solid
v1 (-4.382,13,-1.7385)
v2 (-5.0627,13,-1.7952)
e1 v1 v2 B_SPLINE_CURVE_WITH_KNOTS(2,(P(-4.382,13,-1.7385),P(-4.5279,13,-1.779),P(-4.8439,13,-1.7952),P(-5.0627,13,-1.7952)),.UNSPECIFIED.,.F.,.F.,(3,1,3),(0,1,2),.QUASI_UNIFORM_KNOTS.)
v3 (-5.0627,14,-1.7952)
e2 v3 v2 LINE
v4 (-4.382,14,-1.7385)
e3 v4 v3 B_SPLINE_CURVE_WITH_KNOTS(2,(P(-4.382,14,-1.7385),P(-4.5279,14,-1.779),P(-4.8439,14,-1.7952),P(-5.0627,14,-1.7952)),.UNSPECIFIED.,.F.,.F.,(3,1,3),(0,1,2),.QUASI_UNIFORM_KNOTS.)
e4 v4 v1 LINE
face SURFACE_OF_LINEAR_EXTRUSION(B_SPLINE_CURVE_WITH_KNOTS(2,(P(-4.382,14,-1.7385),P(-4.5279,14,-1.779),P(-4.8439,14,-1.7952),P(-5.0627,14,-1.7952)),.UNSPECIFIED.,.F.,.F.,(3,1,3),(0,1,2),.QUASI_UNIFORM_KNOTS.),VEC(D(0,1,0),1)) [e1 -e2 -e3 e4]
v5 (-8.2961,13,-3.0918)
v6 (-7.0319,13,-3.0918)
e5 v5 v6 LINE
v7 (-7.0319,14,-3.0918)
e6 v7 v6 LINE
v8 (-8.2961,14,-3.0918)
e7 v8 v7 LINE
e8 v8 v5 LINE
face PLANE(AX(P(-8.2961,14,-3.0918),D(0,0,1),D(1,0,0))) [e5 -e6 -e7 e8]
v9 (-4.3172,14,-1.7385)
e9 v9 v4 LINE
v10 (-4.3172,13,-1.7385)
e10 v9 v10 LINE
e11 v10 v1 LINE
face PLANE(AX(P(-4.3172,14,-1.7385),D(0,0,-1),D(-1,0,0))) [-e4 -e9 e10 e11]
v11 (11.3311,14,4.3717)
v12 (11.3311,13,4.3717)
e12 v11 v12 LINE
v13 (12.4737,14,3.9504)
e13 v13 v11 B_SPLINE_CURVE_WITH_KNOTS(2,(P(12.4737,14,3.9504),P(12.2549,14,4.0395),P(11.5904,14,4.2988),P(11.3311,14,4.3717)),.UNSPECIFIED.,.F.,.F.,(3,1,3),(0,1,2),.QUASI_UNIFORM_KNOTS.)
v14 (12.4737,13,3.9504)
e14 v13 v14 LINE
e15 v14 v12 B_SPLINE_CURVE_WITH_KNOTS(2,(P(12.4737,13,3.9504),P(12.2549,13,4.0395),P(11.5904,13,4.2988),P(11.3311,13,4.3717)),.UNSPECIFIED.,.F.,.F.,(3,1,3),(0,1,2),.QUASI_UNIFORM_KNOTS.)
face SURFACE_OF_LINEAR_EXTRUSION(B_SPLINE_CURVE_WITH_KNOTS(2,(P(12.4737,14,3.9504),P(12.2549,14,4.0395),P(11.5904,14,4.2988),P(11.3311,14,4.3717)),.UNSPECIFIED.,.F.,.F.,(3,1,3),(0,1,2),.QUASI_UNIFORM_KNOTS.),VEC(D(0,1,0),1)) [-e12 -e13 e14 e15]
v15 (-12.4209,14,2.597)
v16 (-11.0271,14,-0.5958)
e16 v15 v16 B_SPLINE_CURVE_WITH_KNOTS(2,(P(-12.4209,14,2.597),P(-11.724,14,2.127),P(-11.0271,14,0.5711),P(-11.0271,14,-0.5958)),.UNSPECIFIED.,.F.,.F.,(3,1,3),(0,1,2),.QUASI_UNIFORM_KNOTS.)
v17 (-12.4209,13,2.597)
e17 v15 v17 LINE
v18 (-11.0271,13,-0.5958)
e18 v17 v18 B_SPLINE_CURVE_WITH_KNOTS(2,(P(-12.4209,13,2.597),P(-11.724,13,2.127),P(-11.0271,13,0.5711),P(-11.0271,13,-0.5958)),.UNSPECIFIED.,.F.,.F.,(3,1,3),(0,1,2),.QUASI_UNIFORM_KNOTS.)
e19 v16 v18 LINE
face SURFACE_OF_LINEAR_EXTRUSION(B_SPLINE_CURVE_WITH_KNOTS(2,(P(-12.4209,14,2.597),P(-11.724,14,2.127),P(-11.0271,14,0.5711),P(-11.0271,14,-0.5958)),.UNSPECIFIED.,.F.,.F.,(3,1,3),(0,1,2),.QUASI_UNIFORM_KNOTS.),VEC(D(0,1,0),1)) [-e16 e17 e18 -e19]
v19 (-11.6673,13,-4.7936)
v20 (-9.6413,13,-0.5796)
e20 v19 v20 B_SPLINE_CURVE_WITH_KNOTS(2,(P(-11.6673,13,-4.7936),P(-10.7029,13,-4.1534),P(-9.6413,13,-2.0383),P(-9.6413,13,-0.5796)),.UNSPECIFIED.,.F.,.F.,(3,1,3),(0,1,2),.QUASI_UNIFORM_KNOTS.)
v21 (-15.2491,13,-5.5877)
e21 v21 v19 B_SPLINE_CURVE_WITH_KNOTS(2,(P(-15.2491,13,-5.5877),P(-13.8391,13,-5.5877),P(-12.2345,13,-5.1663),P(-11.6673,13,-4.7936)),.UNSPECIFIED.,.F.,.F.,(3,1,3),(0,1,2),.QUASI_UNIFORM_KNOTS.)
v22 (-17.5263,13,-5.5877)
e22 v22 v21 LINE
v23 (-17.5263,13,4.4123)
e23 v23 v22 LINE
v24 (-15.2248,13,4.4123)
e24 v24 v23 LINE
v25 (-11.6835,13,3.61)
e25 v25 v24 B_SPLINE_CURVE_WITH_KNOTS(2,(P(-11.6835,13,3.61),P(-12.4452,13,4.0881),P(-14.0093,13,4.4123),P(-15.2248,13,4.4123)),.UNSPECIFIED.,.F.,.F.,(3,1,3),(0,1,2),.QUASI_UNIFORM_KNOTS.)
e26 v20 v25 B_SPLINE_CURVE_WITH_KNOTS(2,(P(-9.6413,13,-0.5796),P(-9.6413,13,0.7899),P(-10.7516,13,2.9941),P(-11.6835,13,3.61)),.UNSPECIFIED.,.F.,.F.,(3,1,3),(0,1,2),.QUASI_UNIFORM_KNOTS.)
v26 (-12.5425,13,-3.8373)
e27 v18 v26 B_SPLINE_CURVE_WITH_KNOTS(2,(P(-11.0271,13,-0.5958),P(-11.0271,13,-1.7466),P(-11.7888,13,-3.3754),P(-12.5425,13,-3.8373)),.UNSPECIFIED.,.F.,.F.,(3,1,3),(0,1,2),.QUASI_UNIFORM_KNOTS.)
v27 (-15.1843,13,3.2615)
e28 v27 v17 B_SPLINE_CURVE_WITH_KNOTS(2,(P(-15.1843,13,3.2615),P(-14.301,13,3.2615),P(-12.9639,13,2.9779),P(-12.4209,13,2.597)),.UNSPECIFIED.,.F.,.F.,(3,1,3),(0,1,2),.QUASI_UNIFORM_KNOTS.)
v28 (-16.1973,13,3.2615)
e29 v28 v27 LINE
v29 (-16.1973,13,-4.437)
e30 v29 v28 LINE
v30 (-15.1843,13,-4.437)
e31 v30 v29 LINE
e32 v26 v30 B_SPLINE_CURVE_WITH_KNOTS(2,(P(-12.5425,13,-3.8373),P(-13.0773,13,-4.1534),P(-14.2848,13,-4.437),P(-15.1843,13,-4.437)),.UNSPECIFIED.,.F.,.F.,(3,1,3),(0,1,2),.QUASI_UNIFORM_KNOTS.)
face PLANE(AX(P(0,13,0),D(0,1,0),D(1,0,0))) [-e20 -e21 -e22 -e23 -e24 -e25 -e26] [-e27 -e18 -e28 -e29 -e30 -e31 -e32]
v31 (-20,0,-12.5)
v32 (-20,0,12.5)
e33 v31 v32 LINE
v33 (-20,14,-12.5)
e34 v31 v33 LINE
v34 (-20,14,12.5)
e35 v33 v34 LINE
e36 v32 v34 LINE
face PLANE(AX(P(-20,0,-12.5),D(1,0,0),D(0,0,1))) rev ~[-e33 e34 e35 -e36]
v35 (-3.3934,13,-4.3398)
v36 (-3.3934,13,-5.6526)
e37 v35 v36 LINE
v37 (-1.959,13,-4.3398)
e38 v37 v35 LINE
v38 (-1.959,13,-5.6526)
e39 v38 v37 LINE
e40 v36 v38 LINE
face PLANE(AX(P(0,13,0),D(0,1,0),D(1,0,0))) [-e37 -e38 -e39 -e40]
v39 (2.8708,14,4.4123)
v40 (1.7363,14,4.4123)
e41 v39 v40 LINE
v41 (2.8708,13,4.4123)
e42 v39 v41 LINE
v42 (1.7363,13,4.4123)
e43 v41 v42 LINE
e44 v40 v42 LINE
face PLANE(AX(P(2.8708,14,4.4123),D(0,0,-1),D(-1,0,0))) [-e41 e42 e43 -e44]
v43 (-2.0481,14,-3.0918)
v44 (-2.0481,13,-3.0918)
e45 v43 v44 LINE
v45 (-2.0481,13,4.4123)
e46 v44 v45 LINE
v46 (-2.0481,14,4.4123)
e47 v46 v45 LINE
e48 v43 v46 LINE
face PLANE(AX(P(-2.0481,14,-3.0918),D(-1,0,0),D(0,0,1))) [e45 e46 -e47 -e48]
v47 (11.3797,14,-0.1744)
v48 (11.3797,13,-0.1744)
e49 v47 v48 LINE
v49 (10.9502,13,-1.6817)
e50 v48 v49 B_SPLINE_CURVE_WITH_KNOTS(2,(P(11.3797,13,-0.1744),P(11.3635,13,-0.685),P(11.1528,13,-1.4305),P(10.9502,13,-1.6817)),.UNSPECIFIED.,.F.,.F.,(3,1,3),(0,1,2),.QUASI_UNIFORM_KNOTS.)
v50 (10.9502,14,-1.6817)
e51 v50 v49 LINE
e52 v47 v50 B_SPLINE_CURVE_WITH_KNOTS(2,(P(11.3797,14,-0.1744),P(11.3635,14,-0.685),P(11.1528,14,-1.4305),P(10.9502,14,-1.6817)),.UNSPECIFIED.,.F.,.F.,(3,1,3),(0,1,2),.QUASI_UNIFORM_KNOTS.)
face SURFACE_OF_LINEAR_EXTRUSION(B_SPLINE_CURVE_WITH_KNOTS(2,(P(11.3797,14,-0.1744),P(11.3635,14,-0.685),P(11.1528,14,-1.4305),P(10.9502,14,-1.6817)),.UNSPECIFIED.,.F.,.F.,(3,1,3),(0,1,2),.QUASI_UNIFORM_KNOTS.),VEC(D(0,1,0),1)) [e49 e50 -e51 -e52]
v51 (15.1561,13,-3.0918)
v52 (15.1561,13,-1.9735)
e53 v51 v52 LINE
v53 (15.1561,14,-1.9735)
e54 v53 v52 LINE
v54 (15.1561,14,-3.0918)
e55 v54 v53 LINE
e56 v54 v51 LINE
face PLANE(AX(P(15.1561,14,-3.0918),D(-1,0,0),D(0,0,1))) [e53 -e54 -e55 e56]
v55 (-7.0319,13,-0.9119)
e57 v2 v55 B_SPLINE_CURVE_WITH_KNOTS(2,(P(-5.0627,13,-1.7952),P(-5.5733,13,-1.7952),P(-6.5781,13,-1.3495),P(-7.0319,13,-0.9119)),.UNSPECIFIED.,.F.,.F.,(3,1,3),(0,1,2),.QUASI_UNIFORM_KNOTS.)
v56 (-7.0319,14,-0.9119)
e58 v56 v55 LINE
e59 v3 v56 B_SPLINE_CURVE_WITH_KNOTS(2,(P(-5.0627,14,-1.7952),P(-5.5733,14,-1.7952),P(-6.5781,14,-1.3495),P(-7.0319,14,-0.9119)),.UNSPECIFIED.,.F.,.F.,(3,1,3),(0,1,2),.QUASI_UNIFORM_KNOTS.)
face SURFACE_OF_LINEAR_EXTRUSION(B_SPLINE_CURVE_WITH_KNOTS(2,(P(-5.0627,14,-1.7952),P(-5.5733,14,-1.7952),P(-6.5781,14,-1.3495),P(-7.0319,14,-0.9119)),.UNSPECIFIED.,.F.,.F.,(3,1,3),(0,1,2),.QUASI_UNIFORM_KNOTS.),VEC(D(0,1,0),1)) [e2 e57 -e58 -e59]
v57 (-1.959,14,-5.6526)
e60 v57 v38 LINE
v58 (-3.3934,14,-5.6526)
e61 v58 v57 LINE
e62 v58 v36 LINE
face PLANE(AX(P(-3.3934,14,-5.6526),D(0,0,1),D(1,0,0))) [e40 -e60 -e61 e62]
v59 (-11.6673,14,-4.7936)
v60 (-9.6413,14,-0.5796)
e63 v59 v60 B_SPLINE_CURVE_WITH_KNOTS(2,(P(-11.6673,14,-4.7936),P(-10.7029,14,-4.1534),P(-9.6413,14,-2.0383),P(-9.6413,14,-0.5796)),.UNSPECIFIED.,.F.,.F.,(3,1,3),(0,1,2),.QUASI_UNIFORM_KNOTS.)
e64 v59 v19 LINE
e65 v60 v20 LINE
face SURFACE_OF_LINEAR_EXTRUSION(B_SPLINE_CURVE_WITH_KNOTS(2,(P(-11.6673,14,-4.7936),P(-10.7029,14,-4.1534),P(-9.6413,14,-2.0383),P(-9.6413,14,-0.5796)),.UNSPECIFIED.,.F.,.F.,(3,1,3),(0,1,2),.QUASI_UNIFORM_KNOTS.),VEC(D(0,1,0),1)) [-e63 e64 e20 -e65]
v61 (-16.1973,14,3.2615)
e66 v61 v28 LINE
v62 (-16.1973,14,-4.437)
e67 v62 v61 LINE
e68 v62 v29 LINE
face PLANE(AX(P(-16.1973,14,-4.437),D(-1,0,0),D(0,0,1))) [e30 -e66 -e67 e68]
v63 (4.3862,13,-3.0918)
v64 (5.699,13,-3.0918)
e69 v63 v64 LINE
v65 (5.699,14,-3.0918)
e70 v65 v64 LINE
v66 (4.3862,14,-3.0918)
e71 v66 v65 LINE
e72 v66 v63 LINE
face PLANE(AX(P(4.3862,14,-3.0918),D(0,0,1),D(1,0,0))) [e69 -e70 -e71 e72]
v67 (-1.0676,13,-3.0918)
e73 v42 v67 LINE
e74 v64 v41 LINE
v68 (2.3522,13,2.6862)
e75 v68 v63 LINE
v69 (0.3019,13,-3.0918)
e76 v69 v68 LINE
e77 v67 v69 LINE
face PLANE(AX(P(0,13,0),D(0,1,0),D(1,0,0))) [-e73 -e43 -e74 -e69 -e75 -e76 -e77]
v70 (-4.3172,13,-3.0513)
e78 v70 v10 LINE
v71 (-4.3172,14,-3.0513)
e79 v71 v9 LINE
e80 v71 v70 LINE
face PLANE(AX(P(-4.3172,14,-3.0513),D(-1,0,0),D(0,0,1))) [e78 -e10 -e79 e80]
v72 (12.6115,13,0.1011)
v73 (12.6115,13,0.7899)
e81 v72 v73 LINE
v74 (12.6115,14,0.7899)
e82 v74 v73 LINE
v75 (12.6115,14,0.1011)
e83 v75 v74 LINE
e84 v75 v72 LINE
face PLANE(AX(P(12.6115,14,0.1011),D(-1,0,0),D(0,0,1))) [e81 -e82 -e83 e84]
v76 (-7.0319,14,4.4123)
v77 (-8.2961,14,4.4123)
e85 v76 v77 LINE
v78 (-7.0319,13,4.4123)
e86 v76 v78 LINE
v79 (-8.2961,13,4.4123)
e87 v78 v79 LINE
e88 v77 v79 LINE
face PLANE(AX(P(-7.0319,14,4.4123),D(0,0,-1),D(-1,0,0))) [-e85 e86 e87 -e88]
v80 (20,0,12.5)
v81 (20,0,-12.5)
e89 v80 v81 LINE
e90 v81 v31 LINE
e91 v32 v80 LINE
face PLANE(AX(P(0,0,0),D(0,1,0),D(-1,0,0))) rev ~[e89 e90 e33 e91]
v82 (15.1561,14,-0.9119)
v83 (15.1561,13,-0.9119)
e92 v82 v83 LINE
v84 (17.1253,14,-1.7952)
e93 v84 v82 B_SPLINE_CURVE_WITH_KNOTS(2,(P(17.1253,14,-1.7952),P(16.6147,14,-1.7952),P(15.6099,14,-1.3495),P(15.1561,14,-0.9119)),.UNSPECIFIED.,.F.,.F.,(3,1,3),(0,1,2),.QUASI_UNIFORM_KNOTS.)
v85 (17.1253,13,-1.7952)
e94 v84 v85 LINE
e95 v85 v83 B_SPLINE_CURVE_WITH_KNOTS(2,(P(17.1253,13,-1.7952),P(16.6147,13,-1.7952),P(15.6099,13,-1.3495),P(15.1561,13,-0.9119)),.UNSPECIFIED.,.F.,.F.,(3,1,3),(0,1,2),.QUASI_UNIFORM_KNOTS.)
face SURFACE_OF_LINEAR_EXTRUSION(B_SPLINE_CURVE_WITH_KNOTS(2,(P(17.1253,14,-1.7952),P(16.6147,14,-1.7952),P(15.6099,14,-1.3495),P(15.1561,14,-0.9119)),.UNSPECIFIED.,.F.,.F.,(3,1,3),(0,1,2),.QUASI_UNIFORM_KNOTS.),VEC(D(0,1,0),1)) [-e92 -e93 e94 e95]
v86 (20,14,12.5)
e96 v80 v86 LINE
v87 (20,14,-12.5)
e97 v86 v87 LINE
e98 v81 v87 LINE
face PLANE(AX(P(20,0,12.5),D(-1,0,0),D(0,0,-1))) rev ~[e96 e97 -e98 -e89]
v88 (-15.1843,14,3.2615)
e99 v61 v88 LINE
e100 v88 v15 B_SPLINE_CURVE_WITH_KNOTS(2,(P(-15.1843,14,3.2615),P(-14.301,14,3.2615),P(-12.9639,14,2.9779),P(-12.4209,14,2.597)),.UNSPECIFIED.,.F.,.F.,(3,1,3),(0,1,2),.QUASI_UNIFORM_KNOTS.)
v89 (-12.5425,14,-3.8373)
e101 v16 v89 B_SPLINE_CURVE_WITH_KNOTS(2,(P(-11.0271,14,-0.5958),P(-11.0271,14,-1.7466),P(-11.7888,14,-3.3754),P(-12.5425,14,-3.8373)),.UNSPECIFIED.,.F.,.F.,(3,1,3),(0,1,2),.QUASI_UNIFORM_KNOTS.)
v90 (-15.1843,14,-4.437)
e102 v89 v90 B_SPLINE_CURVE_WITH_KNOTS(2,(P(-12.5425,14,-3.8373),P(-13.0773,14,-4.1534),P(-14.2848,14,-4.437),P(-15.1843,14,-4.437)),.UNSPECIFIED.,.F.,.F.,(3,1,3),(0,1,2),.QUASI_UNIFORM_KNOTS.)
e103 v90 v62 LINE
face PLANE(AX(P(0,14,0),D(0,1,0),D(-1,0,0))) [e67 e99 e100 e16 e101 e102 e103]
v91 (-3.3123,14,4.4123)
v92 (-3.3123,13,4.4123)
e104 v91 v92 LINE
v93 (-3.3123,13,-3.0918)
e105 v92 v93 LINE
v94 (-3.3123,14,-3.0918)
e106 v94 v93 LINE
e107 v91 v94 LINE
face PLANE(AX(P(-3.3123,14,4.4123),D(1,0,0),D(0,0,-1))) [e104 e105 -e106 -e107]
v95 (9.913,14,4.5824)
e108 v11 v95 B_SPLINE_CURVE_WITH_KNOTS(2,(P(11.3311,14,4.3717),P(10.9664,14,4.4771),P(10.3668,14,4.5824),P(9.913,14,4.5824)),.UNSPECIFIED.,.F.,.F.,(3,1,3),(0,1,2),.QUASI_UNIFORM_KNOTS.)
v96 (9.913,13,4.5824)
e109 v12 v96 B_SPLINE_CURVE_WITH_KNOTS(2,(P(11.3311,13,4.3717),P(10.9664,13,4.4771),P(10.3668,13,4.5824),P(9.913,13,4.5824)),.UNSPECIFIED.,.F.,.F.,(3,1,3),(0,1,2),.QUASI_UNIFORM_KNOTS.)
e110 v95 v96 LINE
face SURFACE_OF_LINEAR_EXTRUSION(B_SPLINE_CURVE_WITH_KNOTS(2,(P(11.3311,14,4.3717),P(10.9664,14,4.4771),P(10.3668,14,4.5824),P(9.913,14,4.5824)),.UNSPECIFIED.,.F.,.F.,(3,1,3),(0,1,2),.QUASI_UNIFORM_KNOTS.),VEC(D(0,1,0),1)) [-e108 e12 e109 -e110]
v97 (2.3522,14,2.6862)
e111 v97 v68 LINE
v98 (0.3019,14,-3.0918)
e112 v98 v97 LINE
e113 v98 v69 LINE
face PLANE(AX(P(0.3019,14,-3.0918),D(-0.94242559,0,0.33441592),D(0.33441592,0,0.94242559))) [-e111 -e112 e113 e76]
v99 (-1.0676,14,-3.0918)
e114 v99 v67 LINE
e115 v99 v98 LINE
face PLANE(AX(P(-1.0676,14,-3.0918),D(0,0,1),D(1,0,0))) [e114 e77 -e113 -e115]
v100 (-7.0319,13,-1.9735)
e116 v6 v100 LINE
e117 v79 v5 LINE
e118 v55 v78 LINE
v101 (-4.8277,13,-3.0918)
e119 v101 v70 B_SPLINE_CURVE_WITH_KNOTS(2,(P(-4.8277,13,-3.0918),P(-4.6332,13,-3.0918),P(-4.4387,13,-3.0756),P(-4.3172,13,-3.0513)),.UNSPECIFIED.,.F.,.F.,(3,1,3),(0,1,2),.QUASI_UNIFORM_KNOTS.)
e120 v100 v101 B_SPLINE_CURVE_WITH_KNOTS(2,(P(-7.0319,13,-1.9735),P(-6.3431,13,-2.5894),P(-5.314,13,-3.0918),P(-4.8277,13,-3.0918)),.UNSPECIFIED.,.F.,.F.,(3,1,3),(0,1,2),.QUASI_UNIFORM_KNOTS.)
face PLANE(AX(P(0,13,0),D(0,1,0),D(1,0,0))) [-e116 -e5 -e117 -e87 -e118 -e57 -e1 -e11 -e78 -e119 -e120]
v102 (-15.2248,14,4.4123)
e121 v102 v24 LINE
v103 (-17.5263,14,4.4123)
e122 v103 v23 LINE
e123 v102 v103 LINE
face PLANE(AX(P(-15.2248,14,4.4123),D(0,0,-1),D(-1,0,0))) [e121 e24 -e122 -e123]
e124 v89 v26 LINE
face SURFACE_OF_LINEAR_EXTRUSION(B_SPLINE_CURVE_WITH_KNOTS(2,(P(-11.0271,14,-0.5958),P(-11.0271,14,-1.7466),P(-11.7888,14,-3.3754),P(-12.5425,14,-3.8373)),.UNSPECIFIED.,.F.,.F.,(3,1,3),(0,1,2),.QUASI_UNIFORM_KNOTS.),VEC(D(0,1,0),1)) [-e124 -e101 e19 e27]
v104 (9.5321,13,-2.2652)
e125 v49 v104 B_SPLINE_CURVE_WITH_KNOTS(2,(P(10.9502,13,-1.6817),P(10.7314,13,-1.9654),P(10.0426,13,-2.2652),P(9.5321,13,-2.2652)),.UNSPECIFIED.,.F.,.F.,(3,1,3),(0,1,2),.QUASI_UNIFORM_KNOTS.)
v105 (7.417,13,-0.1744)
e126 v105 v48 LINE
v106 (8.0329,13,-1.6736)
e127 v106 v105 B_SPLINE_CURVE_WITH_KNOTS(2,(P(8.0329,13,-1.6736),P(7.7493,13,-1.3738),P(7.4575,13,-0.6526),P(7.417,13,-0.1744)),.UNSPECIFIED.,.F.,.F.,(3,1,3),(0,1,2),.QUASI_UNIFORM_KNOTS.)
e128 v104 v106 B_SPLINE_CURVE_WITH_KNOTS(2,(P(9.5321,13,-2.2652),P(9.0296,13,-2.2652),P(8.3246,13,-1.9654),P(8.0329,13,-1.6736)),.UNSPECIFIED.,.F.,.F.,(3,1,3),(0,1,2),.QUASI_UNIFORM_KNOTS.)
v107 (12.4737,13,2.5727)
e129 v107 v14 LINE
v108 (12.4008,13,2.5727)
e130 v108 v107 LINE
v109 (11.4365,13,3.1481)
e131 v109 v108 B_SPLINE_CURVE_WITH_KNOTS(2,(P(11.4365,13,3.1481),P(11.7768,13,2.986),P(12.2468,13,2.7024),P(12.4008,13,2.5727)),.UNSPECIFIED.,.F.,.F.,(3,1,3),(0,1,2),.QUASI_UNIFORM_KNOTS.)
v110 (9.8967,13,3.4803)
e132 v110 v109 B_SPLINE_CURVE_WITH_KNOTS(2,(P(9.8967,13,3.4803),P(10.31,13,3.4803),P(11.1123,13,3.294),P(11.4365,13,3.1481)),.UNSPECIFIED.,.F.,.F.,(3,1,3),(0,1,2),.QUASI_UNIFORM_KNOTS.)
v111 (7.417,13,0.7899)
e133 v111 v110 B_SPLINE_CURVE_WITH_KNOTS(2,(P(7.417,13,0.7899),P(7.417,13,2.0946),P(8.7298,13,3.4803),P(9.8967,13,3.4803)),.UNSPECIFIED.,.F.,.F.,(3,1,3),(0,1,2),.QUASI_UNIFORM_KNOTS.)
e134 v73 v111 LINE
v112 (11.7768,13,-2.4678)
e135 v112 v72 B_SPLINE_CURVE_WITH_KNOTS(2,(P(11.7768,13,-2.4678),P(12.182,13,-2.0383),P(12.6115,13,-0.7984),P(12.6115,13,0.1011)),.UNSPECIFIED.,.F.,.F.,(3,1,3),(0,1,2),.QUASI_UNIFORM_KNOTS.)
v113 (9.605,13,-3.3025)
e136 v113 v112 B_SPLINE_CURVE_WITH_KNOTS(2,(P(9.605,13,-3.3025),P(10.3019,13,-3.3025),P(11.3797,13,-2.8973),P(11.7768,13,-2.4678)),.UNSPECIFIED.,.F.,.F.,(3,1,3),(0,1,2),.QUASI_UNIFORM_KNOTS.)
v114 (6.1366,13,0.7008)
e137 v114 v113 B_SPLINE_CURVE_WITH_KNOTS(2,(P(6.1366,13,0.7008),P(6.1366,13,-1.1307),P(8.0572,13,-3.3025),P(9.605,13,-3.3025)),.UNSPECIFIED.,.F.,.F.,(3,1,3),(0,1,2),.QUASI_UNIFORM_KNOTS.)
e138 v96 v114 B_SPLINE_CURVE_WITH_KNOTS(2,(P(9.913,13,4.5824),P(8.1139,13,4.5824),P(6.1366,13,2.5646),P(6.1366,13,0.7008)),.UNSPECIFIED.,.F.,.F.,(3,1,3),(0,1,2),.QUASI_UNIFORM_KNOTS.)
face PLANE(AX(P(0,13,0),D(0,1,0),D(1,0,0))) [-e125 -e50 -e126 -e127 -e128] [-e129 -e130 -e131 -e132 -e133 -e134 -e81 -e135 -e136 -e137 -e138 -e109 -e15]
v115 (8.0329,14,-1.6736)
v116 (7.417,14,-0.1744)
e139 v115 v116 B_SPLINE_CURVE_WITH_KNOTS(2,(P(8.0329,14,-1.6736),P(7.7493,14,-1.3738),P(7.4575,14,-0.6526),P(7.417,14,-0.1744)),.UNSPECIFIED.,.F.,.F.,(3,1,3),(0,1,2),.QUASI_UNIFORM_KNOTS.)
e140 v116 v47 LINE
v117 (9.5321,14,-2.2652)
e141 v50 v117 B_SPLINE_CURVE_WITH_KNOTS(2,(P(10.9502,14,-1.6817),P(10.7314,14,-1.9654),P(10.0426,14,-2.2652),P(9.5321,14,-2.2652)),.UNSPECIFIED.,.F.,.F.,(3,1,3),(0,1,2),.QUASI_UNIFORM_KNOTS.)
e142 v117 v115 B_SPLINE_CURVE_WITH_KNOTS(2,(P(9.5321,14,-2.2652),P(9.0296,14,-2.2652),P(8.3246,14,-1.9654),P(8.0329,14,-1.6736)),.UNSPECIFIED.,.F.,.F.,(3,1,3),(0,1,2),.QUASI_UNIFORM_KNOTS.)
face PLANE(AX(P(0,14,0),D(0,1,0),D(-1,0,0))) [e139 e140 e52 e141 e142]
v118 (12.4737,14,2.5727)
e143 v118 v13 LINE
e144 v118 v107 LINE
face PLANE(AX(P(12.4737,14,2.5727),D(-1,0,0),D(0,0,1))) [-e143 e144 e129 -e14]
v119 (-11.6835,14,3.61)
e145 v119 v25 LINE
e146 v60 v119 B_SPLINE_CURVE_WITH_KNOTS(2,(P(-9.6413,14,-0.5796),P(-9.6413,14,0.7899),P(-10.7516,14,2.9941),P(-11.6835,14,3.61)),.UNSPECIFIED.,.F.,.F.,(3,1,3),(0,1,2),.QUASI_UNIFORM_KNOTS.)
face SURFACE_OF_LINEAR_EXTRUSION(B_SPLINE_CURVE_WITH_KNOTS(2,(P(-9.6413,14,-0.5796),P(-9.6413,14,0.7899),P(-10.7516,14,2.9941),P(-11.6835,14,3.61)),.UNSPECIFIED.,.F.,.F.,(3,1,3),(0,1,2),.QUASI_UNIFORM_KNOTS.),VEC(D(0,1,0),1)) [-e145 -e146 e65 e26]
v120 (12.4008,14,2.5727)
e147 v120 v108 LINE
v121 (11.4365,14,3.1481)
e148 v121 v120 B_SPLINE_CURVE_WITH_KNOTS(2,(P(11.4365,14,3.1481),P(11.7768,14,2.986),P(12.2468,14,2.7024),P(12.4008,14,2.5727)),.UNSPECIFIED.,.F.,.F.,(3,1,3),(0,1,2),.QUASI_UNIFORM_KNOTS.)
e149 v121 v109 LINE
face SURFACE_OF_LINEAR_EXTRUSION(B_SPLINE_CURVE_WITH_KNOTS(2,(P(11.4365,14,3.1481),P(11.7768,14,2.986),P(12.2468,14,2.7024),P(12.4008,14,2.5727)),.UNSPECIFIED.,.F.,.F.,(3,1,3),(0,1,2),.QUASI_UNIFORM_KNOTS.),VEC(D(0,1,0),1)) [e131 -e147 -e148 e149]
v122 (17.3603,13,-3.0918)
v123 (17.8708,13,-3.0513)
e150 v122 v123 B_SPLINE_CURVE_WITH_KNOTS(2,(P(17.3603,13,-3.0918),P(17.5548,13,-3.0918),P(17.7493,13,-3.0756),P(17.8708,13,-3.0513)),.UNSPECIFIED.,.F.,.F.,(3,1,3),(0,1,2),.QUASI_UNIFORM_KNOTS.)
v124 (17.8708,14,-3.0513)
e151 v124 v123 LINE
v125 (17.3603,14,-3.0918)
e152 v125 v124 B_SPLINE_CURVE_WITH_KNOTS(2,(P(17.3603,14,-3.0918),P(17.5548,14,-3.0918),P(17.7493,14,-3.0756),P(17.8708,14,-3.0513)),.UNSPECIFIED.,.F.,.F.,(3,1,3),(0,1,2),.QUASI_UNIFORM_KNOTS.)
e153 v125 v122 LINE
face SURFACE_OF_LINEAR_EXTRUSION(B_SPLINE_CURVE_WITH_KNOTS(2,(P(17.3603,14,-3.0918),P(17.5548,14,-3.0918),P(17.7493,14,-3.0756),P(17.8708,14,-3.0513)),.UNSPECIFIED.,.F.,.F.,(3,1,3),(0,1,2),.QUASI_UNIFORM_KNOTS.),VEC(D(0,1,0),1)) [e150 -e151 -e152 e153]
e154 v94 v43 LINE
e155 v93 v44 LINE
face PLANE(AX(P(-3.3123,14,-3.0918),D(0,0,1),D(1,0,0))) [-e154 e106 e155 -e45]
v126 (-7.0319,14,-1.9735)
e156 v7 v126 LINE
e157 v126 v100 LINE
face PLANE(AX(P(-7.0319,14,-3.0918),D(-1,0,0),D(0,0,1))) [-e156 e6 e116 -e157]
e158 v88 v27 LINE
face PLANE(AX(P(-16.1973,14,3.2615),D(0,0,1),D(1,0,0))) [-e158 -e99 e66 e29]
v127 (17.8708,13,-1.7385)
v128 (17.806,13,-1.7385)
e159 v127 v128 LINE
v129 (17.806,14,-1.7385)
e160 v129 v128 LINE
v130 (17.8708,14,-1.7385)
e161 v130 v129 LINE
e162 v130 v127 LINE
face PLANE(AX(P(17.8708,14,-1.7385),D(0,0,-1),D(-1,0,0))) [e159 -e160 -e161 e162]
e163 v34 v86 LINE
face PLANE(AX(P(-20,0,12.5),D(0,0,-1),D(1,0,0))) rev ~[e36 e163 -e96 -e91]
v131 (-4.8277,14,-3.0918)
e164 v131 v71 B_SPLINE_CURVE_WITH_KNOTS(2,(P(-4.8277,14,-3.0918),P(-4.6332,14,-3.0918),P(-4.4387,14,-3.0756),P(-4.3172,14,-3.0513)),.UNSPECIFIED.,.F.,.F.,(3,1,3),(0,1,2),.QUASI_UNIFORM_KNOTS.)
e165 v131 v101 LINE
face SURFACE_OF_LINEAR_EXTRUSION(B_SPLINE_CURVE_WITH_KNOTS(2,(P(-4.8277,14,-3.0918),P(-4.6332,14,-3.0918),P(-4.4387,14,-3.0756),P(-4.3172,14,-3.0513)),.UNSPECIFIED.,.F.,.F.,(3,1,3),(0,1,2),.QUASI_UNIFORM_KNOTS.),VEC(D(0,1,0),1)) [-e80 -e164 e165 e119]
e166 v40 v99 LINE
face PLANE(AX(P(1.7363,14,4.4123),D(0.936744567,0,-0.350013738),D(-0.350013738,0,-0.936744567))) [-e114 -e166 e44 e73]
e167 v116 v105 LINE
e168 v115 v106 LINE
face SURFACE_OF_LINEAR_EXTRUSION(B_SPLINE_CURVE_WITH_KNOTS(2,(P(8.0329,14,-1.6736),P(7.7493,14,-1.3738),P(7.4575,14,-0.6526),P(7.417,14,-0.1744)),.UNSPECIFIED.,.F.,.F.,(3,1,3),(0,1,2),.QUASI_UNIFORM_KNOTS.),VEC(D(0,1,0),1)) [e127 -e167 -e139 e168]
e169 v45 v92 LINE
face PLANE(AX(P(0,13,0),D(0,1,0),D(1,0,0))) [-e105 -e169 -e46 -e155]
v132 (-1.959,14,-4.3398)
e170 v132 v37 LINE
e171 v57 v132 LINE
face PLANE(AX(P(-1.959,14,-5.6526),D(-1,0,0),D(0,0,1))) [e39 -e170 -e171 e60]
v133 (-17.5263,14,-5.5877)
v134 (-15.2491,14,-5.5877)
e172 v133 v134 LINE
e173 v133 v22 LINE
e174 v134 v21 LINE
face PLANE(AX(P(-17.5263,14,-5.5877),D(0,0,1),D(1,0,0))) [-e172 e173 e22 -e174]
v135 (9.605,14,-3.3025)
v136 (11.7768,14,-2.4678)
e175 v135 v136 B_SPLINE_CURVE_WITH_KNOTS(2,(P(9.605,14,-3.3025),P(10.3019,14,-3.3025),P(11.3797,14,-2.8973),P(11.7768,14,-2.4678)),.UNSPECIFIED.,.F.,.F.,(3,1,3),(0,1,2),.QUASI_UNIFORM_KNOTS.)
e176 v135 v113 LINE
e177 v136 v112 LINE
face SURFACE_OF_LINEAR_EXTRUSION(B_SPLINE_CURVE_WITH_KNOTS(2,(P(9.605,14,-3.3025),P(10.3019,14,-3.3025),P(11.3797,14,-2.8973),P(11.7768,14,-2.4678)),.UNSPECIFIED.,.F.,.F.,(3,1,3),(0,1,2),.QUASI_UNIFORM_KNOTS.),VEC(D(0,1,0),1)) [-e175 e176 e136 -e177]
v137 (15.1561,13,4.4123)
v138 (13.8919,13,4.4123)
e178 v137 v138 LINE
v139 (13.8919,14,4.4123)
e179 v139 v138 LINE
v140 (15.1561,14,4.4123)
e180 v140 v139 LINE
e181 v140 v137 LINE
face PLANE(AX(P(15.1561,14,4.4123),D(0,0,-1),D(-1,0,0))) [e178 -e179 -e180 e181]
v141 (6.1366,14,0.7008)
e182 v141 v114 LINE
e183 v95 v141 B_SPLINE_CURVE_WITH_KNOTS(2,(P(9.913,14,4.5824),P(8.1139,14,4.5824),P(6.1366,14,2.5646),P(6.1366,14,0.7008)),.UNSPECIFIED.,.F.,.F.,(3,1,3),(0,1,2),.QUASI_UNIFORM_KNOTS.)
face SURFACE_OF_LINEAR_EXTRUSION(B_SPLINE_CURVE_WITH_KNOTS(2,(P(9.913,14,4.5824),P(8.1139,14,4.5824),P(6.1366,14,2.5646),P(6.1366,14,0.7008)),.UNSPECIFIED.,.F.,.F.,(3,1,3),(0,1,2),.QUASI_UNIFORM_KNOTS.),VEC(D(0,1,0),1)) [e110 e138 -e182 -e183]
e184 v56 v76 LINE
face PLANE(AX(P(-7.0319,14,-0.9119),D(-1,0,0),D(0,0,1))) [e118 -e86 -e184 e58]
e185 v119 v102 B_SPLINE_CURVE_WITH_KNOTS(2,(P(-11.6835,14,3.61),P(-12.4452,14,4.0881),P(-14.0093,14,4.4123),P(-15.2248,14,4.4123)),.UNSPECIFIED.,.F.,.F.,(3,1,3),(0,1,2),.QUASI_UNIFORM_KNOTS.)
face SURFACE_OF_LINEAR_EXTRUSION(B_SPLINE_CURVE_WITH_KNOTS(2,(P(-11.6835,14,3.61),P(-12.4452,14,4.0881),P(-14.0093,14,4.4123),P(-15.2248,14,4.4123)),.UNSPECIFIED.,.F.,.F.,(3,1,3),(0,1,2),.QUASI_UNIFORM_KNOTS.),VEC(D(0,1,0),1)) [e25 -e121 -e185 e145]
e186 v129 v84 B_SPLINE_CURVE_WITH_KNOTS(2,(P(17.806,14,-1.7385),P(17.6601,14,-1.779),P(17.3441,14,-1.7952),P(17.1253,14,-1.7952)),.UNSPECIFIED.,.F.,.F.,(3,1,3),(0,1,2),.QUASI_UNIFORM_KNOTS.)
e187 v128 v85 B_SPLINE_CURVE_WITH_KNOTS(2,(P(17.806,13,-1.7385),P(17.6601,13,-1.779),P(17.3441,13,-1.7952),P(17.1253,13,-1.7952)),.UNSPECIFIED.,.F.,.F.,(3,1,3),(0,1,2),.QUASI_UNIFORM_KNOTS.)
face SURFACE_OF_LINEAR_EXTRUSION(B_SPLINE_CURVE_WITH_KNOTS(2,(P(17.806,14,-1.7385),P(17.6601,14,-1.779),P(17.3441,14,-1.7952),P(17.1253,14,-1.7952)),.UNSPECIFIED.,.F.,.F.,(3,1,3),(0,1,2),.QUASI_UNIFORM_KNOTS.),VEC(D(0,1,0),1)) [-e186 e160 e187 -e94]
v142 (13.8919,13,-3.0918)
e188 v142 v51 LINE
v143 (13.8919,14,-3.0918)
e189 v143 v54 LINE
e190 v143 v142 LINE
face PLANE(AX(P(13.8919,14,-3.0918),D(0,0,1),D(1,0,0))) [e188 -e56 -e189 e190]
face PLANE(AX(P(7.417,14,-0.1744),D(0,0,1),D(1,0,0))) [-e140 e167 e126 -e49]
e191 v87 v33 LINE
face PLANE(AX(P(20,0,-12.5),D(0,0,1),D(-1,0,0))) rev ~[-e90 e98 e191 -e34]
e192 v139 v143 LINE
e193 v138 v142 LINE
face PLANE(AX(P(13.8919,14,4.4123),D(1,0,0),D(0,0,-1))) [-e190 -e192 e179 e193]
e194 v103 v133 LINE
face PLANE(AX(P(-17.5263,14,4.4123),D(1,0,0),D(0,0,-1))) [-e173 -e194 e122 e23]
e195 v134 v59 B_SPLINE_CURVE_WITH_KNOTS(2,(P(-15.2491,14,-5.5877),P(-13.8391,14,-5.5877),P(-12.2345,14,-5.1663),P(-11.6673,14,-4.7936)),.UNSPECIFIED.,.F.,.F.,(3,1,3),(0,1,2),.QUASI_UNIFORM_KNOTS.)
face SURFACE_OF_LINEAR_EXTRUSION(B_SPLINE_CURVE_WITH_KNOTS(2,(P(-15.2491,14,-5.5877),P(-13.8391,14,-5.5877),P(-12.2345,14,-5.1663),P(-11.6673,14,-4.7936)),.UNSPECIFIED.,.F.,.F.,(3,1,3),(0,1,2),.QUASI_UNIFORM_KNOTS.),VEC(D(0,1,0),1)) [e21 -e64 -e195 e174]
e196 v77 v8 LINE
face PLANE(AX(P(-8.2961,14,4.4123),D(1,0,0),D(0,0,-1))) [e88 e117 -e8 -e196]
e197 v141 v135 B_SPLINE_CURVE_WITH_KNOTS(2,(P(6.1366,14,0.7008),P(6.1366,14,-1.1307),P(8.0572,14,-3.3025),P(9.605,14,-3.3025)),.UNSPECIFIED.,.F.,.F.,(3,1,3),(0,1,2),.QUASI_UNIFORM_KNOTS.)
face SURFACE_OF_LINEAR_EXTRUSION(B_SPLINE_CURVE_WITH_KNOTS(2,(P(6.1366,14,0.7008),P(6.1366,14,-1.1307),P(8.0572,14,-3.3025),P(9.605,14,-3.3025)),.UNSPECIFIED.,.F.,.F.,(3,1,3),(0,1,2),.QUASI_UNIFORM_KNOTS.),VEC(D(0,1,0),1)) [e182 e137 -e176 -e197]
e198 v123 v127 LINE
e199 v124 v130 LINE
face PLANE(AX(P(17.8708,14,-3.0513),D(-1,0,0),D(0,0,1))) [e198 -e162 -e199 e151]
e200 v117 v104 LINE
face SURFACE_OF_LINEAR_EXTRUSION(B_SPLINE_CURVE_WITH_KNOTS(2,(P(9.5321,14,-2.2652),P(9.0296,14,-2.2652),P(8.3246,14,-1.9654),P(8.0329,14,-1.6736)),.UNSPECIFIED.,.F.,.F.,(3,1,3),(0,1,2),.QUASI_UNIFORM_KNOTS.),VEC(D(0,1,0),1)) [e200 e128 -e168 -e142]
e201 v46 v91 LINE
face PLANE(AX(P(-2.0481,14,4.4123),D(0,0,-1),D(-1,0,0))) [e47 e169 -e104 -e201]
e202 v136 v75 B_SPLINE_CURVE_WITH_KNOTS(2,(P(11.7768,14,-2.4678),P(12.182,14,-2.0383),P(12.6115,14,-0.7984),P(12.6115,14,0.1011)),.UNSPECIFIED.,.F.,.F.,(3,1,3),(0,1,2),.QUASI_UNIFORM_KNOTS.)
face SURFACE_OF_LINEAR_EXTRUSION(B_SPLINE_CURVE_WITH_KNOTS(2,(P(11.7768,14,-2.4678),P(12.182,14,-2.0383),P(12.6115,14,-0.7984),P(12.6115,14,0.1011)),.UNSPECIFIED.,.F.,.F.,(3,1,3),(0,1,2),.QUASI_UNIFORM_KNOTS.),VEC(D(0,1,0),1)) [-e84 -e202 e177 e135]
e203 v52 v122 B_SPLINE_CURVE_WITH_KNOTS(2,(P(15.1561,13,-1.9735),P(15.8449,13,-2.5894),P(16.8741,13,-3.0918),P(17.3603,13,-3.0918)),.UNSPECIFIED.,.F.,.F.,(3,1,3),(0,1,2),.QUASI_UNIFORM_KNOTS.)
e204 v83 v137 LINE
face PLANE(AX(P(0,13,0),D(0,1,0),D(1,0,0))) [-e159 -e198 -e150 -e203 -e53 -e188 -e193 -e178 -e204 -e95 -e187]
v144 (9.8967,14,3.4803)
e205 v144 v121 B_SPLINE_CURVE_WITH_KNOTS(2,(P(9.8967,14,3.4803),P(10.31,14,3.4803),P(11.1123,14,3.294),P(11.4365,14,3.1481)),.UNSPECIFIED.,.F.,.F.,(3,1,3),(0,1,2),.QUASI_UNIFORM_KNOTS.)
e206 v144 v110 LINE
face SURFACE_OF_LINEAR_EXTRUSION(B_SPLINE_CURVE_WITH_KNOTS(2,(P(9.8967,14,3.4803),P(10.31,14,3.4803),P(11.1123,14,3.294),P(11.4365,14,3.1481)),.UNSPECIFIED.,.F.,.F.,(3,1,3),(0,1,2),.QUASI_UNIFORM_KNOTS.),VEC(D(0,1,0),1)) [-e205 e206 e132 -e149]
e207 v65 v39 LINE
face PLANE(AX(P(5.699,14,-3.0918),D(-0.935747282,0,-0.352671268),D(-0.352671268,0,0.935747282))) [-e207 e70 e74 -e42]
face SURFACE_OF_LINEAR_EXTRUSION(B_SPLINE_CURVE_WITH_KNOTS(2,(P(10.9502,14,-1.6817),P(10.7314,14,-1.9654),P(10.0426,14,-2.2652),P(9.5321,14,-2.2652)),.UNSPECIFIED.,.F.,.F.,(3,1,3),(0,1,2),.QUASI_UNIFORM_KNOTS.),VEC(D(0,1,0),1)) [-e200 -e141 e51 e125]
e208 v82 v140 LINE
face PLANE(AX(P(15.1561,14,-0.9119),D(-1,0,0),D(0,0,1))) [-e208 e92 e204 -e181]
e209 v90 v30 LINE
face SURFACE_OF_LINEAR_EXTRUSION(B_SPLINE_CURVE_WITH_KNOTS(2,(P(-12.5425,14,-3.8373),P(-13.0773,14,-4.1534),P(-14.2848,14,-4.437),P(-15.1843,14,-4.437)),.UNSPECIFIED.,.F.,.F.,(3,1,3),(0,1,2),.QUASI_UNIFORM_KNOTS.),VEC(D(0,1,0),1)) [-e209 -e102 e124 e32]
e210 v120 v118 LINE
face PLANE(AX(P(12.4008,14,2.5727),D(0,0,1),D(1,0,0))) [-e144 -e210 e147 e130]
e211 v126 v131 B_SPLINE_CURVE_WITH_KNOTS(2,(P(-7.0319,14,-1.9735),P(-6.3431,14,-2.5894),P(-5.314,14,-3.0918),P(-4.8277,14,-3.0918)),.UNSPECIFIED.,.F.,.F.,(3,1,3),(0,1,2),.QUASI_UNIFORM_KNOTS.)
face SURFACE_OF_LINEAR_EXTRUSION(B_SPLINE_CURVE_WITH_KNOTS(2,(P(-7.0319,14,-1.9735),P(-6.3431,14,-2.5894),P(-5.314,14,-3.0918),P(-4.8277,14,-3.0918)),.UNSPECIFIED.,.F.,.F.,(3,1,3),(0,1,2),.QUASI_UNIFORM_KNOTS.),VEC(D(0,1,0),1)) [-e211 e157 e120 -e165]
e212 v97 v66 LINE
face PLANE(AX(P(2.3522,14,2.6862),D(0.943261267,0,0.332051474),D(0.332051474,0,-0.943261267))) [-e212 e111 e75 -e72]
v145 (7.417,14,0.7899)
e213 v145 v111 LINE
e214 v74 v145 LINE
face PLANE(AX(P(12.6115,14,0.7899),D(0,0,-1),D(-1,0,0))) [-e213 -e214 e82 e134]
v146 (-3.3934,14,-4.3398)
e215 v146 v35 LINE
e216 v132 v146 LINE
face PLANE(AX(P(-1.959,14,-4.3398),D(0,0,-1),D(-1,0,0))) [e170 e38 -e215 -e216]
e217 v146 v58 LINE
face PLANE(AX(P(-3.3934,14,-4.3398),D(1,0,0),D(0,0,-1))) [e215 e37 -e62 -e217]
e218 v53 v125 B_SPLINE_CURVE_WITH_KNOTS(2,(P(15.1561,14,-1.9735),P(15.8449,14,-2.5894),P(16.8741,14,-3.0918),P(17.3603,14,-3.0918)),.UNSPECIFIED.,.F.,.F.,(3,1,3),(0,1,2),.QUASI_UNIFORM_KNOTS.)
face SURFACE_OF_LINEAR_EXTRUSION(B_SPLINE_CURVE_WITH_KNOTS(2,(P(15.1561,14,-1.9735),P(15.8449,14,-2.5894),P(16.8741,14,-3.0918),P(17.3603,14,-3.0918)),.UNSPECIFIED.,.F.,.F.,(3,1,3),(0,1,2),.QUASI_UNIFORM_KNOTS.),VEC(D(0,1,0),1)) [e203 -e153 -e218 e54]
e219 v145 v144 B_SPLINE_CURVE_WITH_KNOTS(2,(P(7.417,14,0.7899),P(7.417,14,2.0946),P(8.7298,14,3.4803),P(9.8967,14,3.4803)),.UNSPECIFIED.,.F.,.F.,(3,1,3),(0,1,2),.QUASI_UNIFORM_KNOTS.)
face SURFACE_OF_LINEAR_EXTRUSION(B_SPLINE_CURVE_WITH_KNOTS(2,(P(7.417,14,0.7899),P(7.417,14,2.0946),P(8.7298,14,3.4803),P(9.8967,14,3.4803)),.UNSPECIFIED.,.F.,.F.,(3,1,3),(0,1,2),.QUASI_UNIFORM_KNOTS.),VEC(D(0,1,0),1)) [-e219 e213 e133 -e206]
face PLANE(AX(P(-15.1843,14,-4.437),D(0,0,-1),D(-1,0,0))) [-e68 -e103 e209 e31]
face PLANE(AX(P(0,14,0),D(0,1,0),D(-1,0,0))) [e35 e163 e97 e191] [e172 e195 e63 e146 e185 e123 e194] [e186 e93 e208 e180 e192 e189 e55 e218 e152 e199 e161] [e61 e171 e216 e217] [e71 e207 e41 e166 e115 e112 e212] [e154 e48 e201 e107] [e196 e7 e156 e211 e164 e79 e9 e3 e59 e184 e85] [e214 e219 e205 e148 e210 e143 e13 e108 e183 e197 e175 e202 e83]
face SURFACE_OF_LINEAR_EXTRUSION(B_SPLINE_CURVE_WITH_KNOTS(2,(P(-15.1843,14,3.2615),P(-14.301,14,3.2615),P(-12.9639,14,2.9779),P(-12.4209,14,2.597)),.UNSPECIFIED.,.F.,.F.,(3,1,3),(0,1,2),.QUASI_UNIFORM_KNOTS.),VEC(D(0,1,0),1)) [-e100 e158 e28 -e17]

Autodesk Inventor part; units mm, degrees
ref_plane "YZ Plane" through (0, 0, 0) normal (1, 0, 0) x (0, 1, 0)
ref_plane "XZ Plane" through (0, 0, 0) normal (0, 1, 0) x (-1, 0, 0)
ref_plane "XY Plane" through (0, 0, 0) normal (0, 0, 1) x (1, 0, 0)
sketch "Sketch1" plane through (0, 0, 0) normal (0, 1, 0) x (-1, 0, 0)
  line L0 (20, 12.5) -> (-20, 12.5)
  line L1 (-20, 12.5) -> (-20, -12.5)
  line L2 (-20, -12.5) -> (20, -12.5)
  line L3 (20, -12.5) -> (20, 12.5)
  line L4 (20, 12.5) -> (-20, -12.5) construction
  line L5 (-20, 12.5) -> (20, -12.5) construction
  point P0 (0, 0)
  dimension "d0" = 40
  dimension "d1" = 25
extrude "Extrusion1" add sketch "Sketch1" along normal blind 14
sketch "Sketch2" plane through (0, 14, 0) normal (0, 1, 0) x (1, 0, 0)
  line L0 (-18.5392, 5.6526) -> (18.5392, 5.6526) construction
  line L1 (18.5392, 5.6526) -> (18.5392, -5.6526) construction
  line L2 (18.5392, -5.6526) -> (-18.5392, -5.6526) construction
  line L3 (-18.5392, -5.6526) -> (-18.5392, 5.6526) construction
  line L4 (20, -12.5) -> (20, 12.5) projected
  line L5 (20, 12.5) -> (-20, 12.5) projected
  line L6 (-20, 12.5) -> (-20, -12.5) projected
  line L7 (-20, -12.5) -> (20, -12.5) projected
  spline S0 degree 2 poles (-9.6413, 0.5796) (-9.6413, -0.7899) (-10.7516, -2.9941) (-11.6835, -3.61) knots 0 0 0 1 2 2 2
  spline S1 degree 2 poles (-11.6835, -3.61) (-12.4452, -4.0881) (-14.0093, -4.4123) (-15.2248, -4.4123) knots 0 0 0 1 2 2 2
  line L8 (-15.2248, -4.4123) -> (-17.5263, -4.4123)
  line L9 (-17.5263, -4.4123) -> (-17.5263, 5.5877)
  line L10 (-17.5263, 5.5877) -> (-15.2491, 5.5877)
  spline S2 degree 2 poles (-15.2491, 5.5877) (-13.8391, 5.5877) (-12.2345, 5.1663) (-11.6673, 4.7936) knots 0 0 0 1 2 2 2
  spline S3 degree 2 poles (-11.6673, 4.7936) (-10.7029, 4.1534) (-9.6413, 2.0383) (-9.6413, 0.5796) knots 0 0 0 1 2 2 2
  spline S4 degree 2 poles (-11.0271, 0.5958) (-11.0271, 1.7466) (-11.7888, 3.3754) (-12.5425, 3.8373) knots 0 0 0 1 2 2 2
  spline S5 degree 2 poles (-12.5425, 3.8373) (-13.0773, 4.1534) (-14.2848, 4.437) (-15.1843, 4.437) knots 0 0 0 1 2 2 2
  line L11 (-15.1843, 4.437) -> (-16.1973, 4.437)
  line L12 (-16.1973, 4.437) -> (-16.1973, -3.2615)
  line L13 (-16.1973, -3.2615) -> (-15.1843, -3.2615)
  spline S6 degree 2 poles (-15.1843, -3.2615) (-14.301, -3.2615) (-12.9639, -2.9779) (-12.4209, -2.597) knots 0 0 0 1 2 2 2
  spline S7 degree 2 poles (-12.4209, -2.597) (-11.724, -2.127) (-11.0271, -0.5711) (-11.0271, 0.5958) knots 0 0 0 1 2 2 2
  line L14 (-4.3172, 1.7385) -> (-4.382, 1.7385)
  spline S8 degree 2 poles (-4.382, 1.7385) (-4.5279, 1.779) (-4.8439, 1.7952) (-5.0627, 1.7952) knots 0 0 0 1 2 2 2
  spline S9 degree 2 poles (-5.0627, 1.7952) (-5.5733, 1.7952) (-6.5781, 1.3495) (-7.0319, 0.9119) knots 0 0 0 1 2 2 2
  line L15 (-7.0319, 0.9119) -> (-7.0319, -4.4123)
  line L16 (-7.0319, -4.4123) -> (-8.2961, -4.4123)
  line L17 (-8.2961, -4.4123) -> (-8.2961, 3.0918)
  line L18 (-8.2961, 3.0918) -> (-7.0319, 3.0918)
  line L19 (-7.0319, 3.0918) -> (-7.0319, 1.9735)
  spline S10 degree 2 poles (-7.0319, 1.9735) (-6.3431, 2.5894) (-5.314, 3.0918) (-4.8277, 3.0918) knots 0 0 0 1 2 2 2
  spline S11 degree 2 poles (-4.8277, 3.0918) (-4.6332, 3.0918) (-4.4387, 3.0756) (-4.3172, 3.0513) knots 0 0 0 1 2 2 2
  line L20 (-4.3172, 3.0513) -> (-4.3172, 1.7385)
  line L21 (-2.0481, -4.4123) -> (-3.3123, -4.4123)
  line L22 (-3.3123, -4.4123) -> (-3.3123, 3.0918)
  line L23 (-3.3123, 3.0918) -> (-2.0481, 3.0918)
  line L24 (-2.0481, 3.0918) -> (-2.0481, -4.4123)
  line L25 (-1.959, 4.3398) -> (-3.3934, 4.3398)
  line L26 (-3.3934, 4.3398) -> (-3.3934, 5.6526)
  line L27 (-3.3934, 5.6526) -> (-1.959, 5.6526)
  line L28 (-1.959, 5.6526) -> (-1.959, 4.3398)
  line L29 (5.699, 3.0918) -> (2.8708, -4.4123)
  line L30 (2.8708, -4.4123) -> (1.7363, -4.4123)
  line L31 (1.7363, -4.4123) -> (-1.0676, 3.0918)
  line L32 (-1.0676, 3.0918) -> (0.3019, 3.0918)
  line L33 (0.3019, 3.0918) -> (2.3522, -2.6862)
  line L34 (2.3522, -2.6862) -> (4.3862, 3.0918)
  line L35 (4.3862, 3.0918) -> (5.699, 3.0918)
  spline S12 degree 2 poles (9.913, -4.5824) (8.1139, -4.5824) (6.1366, -2.5646) (6.1366, -0.7008) knots 0 0 0 1 2 2 2
  spline S13 degree 2 poles (6.1366, -0.7008) (6.1366, 1.1307) (8.0572, 3.3025) (9.605, 3.3025) knots 0 0 0 1 2 2 2
  spline S14 degree 2 poles (9.605, 3.3025) (10.3019, 3.3025) (11.3797, 2.8973) (11.7768, 2.4678) knots 0 0 0 1 2 2 2
  spline S15 degree 2 poles (11.7768, 2.4678) (12.182, 2.0383) (12.6115, 0.7984) (12.6115, -0.1011) knots 0 0 0 1 2 2 2
  line L36 (12.6115, -0.1011) -> (12.6115, -0.7899)
  line L37 (12.6115, -0.7899) -> (7.417, -0.7899)
  spline S16 degree 2 poles (7.417, -0.7899) (7.417, -2.0946) (8.7298, -3.4803) (9.8967, -3.4803) knots 0 0 0 1 2 2 2
  spline S17 degree 2 poles (9.8967, -3.4803) (10.31, -3.4803) (11.1123, -3.294) (11.4365, -3.1481) knots 0 0 0 1 2 2 2
  spline S18 degree 2 poles (11.4365, -3.1481) (11.7768, -2.986) (12.2468, -2.7024) (12.4008, -2.5727) knots 0 0 0 1 2 2 2
  line L38 (12.4008, -2.5727) -> (12.4737, -2.5727)
  line L39 (12.4737, -2.5727) -> (12.4737, -3.9504)
  spline S19 degree 2 poles (12.4737, -3.9504) (12.2549, -4.0395) (11.5904, -4.2988) (11.3311, -4.3717) knots 0 0 0 1 2 2 2
  spline S20 degree 2 poles (11.3311, -4.3717) (10.9664, -4.4771) (10.3668, -4.5824) (9.913, -4.5824) knots 0 0 0 1 2 2 2
  spline S21 degree 2 poles (11.3797, 0.1744) (11.3635, 0.685) (11.1528, 1.4305) (10.9502, 1.6817) knots 0 0 0 1 2 2 2
  spline S22 degree 2 poles (10.9502, 1.6817) (10.7314, 1.9654) (10.0426, 2.2652) (9.5321, 2.2652) knots 0 0 0 1 2 2 2
  spline S23 degree 2 poles (9.5321, 2.2652) (9.0296, 2.2652) (8.3246, 1.9654) (8.0329, 1.6736) knots 0 0 0 1 2 2 2
  spline S24 degree 2 poles (8.0329, 1.6736) (7.7493, 1.3738) (7.4575, 0.6526) (7.417, 0.1744) knots 0 0 0 1 2 2 2
  line L40 (7.417, 0.1744) -> (11.3797, 0.1744)
  line L41 (17.8708, 1.7385) -> (17.806, 1.7385)
  spline S25 degree 2 poles (17.806, 1.7385) (17.6601, 1.779) (17.3441, 1.7952) (17.1253, 1.7952) knots 0 0 0 1 2 2 2
  spline S26 degree 2 poles (17.1253, 1.7952) (16.6147, 1.7952) (15.6099, 1.3495) (15.1561, 0.9119) knots 0 0 0 1 2 2 2
  line L42 (15.1561, 0.9119) -> (15.1561, -4.4123)
  line L43 (15.1561, -4.4123) -> (13.8919, -4.4123)
  line L44 (13.8919, -4.4123) -> (13.8919, 3.0918)
  line L45 (13.8919, 3.0918) -> (15.1561, 3.0918)
  line L46 (15.1561, 3.0918) -> (15.1561, 1.9735)
  spline S27 degree 2 poles (15.1561, 1.9735) (15.8449, 2.5894) (16.8741, 3.0918) (17.3603, 3.0918) knots 0 0 0 1 2 2 2
  spline S28 degree 2 poles (17.3603, 3.0918) (17.5548, 3.0918) (17.7493, 3.0756) (17.8708, 3.0513) knots 0 0 0 1 2 2 2
  line L47 (17.8708, 3.0513) -> (17.8708, 1.7385)
  point P0 (0, 0)
  point P1 (-18.5392, 0)
  point P2 (-20, 0)
  point P3 (0, 5.6526)
  point P4 (0, 12.5)
extrude "Extrusion2" cut sketch "Sketch2" against normal blind 1 contours S0 S1 L8 L9 L10 S2 S3 | L14 S8 S9 L15 L16 L17 L18 L19 S10 S11 L20 | L21 L22 L23 L24 | L25 L26 L27 L28 | L29 L30 L31 L32 L33 L34 L35 | S12 S13 S14 S15 L36 L37 S16 S17 S18 L38 L39 S19 S20 | L41 S25 S26 L42 L43 L44 L45 L46 S27 S28 L47
properties part number "Motor Driver"
